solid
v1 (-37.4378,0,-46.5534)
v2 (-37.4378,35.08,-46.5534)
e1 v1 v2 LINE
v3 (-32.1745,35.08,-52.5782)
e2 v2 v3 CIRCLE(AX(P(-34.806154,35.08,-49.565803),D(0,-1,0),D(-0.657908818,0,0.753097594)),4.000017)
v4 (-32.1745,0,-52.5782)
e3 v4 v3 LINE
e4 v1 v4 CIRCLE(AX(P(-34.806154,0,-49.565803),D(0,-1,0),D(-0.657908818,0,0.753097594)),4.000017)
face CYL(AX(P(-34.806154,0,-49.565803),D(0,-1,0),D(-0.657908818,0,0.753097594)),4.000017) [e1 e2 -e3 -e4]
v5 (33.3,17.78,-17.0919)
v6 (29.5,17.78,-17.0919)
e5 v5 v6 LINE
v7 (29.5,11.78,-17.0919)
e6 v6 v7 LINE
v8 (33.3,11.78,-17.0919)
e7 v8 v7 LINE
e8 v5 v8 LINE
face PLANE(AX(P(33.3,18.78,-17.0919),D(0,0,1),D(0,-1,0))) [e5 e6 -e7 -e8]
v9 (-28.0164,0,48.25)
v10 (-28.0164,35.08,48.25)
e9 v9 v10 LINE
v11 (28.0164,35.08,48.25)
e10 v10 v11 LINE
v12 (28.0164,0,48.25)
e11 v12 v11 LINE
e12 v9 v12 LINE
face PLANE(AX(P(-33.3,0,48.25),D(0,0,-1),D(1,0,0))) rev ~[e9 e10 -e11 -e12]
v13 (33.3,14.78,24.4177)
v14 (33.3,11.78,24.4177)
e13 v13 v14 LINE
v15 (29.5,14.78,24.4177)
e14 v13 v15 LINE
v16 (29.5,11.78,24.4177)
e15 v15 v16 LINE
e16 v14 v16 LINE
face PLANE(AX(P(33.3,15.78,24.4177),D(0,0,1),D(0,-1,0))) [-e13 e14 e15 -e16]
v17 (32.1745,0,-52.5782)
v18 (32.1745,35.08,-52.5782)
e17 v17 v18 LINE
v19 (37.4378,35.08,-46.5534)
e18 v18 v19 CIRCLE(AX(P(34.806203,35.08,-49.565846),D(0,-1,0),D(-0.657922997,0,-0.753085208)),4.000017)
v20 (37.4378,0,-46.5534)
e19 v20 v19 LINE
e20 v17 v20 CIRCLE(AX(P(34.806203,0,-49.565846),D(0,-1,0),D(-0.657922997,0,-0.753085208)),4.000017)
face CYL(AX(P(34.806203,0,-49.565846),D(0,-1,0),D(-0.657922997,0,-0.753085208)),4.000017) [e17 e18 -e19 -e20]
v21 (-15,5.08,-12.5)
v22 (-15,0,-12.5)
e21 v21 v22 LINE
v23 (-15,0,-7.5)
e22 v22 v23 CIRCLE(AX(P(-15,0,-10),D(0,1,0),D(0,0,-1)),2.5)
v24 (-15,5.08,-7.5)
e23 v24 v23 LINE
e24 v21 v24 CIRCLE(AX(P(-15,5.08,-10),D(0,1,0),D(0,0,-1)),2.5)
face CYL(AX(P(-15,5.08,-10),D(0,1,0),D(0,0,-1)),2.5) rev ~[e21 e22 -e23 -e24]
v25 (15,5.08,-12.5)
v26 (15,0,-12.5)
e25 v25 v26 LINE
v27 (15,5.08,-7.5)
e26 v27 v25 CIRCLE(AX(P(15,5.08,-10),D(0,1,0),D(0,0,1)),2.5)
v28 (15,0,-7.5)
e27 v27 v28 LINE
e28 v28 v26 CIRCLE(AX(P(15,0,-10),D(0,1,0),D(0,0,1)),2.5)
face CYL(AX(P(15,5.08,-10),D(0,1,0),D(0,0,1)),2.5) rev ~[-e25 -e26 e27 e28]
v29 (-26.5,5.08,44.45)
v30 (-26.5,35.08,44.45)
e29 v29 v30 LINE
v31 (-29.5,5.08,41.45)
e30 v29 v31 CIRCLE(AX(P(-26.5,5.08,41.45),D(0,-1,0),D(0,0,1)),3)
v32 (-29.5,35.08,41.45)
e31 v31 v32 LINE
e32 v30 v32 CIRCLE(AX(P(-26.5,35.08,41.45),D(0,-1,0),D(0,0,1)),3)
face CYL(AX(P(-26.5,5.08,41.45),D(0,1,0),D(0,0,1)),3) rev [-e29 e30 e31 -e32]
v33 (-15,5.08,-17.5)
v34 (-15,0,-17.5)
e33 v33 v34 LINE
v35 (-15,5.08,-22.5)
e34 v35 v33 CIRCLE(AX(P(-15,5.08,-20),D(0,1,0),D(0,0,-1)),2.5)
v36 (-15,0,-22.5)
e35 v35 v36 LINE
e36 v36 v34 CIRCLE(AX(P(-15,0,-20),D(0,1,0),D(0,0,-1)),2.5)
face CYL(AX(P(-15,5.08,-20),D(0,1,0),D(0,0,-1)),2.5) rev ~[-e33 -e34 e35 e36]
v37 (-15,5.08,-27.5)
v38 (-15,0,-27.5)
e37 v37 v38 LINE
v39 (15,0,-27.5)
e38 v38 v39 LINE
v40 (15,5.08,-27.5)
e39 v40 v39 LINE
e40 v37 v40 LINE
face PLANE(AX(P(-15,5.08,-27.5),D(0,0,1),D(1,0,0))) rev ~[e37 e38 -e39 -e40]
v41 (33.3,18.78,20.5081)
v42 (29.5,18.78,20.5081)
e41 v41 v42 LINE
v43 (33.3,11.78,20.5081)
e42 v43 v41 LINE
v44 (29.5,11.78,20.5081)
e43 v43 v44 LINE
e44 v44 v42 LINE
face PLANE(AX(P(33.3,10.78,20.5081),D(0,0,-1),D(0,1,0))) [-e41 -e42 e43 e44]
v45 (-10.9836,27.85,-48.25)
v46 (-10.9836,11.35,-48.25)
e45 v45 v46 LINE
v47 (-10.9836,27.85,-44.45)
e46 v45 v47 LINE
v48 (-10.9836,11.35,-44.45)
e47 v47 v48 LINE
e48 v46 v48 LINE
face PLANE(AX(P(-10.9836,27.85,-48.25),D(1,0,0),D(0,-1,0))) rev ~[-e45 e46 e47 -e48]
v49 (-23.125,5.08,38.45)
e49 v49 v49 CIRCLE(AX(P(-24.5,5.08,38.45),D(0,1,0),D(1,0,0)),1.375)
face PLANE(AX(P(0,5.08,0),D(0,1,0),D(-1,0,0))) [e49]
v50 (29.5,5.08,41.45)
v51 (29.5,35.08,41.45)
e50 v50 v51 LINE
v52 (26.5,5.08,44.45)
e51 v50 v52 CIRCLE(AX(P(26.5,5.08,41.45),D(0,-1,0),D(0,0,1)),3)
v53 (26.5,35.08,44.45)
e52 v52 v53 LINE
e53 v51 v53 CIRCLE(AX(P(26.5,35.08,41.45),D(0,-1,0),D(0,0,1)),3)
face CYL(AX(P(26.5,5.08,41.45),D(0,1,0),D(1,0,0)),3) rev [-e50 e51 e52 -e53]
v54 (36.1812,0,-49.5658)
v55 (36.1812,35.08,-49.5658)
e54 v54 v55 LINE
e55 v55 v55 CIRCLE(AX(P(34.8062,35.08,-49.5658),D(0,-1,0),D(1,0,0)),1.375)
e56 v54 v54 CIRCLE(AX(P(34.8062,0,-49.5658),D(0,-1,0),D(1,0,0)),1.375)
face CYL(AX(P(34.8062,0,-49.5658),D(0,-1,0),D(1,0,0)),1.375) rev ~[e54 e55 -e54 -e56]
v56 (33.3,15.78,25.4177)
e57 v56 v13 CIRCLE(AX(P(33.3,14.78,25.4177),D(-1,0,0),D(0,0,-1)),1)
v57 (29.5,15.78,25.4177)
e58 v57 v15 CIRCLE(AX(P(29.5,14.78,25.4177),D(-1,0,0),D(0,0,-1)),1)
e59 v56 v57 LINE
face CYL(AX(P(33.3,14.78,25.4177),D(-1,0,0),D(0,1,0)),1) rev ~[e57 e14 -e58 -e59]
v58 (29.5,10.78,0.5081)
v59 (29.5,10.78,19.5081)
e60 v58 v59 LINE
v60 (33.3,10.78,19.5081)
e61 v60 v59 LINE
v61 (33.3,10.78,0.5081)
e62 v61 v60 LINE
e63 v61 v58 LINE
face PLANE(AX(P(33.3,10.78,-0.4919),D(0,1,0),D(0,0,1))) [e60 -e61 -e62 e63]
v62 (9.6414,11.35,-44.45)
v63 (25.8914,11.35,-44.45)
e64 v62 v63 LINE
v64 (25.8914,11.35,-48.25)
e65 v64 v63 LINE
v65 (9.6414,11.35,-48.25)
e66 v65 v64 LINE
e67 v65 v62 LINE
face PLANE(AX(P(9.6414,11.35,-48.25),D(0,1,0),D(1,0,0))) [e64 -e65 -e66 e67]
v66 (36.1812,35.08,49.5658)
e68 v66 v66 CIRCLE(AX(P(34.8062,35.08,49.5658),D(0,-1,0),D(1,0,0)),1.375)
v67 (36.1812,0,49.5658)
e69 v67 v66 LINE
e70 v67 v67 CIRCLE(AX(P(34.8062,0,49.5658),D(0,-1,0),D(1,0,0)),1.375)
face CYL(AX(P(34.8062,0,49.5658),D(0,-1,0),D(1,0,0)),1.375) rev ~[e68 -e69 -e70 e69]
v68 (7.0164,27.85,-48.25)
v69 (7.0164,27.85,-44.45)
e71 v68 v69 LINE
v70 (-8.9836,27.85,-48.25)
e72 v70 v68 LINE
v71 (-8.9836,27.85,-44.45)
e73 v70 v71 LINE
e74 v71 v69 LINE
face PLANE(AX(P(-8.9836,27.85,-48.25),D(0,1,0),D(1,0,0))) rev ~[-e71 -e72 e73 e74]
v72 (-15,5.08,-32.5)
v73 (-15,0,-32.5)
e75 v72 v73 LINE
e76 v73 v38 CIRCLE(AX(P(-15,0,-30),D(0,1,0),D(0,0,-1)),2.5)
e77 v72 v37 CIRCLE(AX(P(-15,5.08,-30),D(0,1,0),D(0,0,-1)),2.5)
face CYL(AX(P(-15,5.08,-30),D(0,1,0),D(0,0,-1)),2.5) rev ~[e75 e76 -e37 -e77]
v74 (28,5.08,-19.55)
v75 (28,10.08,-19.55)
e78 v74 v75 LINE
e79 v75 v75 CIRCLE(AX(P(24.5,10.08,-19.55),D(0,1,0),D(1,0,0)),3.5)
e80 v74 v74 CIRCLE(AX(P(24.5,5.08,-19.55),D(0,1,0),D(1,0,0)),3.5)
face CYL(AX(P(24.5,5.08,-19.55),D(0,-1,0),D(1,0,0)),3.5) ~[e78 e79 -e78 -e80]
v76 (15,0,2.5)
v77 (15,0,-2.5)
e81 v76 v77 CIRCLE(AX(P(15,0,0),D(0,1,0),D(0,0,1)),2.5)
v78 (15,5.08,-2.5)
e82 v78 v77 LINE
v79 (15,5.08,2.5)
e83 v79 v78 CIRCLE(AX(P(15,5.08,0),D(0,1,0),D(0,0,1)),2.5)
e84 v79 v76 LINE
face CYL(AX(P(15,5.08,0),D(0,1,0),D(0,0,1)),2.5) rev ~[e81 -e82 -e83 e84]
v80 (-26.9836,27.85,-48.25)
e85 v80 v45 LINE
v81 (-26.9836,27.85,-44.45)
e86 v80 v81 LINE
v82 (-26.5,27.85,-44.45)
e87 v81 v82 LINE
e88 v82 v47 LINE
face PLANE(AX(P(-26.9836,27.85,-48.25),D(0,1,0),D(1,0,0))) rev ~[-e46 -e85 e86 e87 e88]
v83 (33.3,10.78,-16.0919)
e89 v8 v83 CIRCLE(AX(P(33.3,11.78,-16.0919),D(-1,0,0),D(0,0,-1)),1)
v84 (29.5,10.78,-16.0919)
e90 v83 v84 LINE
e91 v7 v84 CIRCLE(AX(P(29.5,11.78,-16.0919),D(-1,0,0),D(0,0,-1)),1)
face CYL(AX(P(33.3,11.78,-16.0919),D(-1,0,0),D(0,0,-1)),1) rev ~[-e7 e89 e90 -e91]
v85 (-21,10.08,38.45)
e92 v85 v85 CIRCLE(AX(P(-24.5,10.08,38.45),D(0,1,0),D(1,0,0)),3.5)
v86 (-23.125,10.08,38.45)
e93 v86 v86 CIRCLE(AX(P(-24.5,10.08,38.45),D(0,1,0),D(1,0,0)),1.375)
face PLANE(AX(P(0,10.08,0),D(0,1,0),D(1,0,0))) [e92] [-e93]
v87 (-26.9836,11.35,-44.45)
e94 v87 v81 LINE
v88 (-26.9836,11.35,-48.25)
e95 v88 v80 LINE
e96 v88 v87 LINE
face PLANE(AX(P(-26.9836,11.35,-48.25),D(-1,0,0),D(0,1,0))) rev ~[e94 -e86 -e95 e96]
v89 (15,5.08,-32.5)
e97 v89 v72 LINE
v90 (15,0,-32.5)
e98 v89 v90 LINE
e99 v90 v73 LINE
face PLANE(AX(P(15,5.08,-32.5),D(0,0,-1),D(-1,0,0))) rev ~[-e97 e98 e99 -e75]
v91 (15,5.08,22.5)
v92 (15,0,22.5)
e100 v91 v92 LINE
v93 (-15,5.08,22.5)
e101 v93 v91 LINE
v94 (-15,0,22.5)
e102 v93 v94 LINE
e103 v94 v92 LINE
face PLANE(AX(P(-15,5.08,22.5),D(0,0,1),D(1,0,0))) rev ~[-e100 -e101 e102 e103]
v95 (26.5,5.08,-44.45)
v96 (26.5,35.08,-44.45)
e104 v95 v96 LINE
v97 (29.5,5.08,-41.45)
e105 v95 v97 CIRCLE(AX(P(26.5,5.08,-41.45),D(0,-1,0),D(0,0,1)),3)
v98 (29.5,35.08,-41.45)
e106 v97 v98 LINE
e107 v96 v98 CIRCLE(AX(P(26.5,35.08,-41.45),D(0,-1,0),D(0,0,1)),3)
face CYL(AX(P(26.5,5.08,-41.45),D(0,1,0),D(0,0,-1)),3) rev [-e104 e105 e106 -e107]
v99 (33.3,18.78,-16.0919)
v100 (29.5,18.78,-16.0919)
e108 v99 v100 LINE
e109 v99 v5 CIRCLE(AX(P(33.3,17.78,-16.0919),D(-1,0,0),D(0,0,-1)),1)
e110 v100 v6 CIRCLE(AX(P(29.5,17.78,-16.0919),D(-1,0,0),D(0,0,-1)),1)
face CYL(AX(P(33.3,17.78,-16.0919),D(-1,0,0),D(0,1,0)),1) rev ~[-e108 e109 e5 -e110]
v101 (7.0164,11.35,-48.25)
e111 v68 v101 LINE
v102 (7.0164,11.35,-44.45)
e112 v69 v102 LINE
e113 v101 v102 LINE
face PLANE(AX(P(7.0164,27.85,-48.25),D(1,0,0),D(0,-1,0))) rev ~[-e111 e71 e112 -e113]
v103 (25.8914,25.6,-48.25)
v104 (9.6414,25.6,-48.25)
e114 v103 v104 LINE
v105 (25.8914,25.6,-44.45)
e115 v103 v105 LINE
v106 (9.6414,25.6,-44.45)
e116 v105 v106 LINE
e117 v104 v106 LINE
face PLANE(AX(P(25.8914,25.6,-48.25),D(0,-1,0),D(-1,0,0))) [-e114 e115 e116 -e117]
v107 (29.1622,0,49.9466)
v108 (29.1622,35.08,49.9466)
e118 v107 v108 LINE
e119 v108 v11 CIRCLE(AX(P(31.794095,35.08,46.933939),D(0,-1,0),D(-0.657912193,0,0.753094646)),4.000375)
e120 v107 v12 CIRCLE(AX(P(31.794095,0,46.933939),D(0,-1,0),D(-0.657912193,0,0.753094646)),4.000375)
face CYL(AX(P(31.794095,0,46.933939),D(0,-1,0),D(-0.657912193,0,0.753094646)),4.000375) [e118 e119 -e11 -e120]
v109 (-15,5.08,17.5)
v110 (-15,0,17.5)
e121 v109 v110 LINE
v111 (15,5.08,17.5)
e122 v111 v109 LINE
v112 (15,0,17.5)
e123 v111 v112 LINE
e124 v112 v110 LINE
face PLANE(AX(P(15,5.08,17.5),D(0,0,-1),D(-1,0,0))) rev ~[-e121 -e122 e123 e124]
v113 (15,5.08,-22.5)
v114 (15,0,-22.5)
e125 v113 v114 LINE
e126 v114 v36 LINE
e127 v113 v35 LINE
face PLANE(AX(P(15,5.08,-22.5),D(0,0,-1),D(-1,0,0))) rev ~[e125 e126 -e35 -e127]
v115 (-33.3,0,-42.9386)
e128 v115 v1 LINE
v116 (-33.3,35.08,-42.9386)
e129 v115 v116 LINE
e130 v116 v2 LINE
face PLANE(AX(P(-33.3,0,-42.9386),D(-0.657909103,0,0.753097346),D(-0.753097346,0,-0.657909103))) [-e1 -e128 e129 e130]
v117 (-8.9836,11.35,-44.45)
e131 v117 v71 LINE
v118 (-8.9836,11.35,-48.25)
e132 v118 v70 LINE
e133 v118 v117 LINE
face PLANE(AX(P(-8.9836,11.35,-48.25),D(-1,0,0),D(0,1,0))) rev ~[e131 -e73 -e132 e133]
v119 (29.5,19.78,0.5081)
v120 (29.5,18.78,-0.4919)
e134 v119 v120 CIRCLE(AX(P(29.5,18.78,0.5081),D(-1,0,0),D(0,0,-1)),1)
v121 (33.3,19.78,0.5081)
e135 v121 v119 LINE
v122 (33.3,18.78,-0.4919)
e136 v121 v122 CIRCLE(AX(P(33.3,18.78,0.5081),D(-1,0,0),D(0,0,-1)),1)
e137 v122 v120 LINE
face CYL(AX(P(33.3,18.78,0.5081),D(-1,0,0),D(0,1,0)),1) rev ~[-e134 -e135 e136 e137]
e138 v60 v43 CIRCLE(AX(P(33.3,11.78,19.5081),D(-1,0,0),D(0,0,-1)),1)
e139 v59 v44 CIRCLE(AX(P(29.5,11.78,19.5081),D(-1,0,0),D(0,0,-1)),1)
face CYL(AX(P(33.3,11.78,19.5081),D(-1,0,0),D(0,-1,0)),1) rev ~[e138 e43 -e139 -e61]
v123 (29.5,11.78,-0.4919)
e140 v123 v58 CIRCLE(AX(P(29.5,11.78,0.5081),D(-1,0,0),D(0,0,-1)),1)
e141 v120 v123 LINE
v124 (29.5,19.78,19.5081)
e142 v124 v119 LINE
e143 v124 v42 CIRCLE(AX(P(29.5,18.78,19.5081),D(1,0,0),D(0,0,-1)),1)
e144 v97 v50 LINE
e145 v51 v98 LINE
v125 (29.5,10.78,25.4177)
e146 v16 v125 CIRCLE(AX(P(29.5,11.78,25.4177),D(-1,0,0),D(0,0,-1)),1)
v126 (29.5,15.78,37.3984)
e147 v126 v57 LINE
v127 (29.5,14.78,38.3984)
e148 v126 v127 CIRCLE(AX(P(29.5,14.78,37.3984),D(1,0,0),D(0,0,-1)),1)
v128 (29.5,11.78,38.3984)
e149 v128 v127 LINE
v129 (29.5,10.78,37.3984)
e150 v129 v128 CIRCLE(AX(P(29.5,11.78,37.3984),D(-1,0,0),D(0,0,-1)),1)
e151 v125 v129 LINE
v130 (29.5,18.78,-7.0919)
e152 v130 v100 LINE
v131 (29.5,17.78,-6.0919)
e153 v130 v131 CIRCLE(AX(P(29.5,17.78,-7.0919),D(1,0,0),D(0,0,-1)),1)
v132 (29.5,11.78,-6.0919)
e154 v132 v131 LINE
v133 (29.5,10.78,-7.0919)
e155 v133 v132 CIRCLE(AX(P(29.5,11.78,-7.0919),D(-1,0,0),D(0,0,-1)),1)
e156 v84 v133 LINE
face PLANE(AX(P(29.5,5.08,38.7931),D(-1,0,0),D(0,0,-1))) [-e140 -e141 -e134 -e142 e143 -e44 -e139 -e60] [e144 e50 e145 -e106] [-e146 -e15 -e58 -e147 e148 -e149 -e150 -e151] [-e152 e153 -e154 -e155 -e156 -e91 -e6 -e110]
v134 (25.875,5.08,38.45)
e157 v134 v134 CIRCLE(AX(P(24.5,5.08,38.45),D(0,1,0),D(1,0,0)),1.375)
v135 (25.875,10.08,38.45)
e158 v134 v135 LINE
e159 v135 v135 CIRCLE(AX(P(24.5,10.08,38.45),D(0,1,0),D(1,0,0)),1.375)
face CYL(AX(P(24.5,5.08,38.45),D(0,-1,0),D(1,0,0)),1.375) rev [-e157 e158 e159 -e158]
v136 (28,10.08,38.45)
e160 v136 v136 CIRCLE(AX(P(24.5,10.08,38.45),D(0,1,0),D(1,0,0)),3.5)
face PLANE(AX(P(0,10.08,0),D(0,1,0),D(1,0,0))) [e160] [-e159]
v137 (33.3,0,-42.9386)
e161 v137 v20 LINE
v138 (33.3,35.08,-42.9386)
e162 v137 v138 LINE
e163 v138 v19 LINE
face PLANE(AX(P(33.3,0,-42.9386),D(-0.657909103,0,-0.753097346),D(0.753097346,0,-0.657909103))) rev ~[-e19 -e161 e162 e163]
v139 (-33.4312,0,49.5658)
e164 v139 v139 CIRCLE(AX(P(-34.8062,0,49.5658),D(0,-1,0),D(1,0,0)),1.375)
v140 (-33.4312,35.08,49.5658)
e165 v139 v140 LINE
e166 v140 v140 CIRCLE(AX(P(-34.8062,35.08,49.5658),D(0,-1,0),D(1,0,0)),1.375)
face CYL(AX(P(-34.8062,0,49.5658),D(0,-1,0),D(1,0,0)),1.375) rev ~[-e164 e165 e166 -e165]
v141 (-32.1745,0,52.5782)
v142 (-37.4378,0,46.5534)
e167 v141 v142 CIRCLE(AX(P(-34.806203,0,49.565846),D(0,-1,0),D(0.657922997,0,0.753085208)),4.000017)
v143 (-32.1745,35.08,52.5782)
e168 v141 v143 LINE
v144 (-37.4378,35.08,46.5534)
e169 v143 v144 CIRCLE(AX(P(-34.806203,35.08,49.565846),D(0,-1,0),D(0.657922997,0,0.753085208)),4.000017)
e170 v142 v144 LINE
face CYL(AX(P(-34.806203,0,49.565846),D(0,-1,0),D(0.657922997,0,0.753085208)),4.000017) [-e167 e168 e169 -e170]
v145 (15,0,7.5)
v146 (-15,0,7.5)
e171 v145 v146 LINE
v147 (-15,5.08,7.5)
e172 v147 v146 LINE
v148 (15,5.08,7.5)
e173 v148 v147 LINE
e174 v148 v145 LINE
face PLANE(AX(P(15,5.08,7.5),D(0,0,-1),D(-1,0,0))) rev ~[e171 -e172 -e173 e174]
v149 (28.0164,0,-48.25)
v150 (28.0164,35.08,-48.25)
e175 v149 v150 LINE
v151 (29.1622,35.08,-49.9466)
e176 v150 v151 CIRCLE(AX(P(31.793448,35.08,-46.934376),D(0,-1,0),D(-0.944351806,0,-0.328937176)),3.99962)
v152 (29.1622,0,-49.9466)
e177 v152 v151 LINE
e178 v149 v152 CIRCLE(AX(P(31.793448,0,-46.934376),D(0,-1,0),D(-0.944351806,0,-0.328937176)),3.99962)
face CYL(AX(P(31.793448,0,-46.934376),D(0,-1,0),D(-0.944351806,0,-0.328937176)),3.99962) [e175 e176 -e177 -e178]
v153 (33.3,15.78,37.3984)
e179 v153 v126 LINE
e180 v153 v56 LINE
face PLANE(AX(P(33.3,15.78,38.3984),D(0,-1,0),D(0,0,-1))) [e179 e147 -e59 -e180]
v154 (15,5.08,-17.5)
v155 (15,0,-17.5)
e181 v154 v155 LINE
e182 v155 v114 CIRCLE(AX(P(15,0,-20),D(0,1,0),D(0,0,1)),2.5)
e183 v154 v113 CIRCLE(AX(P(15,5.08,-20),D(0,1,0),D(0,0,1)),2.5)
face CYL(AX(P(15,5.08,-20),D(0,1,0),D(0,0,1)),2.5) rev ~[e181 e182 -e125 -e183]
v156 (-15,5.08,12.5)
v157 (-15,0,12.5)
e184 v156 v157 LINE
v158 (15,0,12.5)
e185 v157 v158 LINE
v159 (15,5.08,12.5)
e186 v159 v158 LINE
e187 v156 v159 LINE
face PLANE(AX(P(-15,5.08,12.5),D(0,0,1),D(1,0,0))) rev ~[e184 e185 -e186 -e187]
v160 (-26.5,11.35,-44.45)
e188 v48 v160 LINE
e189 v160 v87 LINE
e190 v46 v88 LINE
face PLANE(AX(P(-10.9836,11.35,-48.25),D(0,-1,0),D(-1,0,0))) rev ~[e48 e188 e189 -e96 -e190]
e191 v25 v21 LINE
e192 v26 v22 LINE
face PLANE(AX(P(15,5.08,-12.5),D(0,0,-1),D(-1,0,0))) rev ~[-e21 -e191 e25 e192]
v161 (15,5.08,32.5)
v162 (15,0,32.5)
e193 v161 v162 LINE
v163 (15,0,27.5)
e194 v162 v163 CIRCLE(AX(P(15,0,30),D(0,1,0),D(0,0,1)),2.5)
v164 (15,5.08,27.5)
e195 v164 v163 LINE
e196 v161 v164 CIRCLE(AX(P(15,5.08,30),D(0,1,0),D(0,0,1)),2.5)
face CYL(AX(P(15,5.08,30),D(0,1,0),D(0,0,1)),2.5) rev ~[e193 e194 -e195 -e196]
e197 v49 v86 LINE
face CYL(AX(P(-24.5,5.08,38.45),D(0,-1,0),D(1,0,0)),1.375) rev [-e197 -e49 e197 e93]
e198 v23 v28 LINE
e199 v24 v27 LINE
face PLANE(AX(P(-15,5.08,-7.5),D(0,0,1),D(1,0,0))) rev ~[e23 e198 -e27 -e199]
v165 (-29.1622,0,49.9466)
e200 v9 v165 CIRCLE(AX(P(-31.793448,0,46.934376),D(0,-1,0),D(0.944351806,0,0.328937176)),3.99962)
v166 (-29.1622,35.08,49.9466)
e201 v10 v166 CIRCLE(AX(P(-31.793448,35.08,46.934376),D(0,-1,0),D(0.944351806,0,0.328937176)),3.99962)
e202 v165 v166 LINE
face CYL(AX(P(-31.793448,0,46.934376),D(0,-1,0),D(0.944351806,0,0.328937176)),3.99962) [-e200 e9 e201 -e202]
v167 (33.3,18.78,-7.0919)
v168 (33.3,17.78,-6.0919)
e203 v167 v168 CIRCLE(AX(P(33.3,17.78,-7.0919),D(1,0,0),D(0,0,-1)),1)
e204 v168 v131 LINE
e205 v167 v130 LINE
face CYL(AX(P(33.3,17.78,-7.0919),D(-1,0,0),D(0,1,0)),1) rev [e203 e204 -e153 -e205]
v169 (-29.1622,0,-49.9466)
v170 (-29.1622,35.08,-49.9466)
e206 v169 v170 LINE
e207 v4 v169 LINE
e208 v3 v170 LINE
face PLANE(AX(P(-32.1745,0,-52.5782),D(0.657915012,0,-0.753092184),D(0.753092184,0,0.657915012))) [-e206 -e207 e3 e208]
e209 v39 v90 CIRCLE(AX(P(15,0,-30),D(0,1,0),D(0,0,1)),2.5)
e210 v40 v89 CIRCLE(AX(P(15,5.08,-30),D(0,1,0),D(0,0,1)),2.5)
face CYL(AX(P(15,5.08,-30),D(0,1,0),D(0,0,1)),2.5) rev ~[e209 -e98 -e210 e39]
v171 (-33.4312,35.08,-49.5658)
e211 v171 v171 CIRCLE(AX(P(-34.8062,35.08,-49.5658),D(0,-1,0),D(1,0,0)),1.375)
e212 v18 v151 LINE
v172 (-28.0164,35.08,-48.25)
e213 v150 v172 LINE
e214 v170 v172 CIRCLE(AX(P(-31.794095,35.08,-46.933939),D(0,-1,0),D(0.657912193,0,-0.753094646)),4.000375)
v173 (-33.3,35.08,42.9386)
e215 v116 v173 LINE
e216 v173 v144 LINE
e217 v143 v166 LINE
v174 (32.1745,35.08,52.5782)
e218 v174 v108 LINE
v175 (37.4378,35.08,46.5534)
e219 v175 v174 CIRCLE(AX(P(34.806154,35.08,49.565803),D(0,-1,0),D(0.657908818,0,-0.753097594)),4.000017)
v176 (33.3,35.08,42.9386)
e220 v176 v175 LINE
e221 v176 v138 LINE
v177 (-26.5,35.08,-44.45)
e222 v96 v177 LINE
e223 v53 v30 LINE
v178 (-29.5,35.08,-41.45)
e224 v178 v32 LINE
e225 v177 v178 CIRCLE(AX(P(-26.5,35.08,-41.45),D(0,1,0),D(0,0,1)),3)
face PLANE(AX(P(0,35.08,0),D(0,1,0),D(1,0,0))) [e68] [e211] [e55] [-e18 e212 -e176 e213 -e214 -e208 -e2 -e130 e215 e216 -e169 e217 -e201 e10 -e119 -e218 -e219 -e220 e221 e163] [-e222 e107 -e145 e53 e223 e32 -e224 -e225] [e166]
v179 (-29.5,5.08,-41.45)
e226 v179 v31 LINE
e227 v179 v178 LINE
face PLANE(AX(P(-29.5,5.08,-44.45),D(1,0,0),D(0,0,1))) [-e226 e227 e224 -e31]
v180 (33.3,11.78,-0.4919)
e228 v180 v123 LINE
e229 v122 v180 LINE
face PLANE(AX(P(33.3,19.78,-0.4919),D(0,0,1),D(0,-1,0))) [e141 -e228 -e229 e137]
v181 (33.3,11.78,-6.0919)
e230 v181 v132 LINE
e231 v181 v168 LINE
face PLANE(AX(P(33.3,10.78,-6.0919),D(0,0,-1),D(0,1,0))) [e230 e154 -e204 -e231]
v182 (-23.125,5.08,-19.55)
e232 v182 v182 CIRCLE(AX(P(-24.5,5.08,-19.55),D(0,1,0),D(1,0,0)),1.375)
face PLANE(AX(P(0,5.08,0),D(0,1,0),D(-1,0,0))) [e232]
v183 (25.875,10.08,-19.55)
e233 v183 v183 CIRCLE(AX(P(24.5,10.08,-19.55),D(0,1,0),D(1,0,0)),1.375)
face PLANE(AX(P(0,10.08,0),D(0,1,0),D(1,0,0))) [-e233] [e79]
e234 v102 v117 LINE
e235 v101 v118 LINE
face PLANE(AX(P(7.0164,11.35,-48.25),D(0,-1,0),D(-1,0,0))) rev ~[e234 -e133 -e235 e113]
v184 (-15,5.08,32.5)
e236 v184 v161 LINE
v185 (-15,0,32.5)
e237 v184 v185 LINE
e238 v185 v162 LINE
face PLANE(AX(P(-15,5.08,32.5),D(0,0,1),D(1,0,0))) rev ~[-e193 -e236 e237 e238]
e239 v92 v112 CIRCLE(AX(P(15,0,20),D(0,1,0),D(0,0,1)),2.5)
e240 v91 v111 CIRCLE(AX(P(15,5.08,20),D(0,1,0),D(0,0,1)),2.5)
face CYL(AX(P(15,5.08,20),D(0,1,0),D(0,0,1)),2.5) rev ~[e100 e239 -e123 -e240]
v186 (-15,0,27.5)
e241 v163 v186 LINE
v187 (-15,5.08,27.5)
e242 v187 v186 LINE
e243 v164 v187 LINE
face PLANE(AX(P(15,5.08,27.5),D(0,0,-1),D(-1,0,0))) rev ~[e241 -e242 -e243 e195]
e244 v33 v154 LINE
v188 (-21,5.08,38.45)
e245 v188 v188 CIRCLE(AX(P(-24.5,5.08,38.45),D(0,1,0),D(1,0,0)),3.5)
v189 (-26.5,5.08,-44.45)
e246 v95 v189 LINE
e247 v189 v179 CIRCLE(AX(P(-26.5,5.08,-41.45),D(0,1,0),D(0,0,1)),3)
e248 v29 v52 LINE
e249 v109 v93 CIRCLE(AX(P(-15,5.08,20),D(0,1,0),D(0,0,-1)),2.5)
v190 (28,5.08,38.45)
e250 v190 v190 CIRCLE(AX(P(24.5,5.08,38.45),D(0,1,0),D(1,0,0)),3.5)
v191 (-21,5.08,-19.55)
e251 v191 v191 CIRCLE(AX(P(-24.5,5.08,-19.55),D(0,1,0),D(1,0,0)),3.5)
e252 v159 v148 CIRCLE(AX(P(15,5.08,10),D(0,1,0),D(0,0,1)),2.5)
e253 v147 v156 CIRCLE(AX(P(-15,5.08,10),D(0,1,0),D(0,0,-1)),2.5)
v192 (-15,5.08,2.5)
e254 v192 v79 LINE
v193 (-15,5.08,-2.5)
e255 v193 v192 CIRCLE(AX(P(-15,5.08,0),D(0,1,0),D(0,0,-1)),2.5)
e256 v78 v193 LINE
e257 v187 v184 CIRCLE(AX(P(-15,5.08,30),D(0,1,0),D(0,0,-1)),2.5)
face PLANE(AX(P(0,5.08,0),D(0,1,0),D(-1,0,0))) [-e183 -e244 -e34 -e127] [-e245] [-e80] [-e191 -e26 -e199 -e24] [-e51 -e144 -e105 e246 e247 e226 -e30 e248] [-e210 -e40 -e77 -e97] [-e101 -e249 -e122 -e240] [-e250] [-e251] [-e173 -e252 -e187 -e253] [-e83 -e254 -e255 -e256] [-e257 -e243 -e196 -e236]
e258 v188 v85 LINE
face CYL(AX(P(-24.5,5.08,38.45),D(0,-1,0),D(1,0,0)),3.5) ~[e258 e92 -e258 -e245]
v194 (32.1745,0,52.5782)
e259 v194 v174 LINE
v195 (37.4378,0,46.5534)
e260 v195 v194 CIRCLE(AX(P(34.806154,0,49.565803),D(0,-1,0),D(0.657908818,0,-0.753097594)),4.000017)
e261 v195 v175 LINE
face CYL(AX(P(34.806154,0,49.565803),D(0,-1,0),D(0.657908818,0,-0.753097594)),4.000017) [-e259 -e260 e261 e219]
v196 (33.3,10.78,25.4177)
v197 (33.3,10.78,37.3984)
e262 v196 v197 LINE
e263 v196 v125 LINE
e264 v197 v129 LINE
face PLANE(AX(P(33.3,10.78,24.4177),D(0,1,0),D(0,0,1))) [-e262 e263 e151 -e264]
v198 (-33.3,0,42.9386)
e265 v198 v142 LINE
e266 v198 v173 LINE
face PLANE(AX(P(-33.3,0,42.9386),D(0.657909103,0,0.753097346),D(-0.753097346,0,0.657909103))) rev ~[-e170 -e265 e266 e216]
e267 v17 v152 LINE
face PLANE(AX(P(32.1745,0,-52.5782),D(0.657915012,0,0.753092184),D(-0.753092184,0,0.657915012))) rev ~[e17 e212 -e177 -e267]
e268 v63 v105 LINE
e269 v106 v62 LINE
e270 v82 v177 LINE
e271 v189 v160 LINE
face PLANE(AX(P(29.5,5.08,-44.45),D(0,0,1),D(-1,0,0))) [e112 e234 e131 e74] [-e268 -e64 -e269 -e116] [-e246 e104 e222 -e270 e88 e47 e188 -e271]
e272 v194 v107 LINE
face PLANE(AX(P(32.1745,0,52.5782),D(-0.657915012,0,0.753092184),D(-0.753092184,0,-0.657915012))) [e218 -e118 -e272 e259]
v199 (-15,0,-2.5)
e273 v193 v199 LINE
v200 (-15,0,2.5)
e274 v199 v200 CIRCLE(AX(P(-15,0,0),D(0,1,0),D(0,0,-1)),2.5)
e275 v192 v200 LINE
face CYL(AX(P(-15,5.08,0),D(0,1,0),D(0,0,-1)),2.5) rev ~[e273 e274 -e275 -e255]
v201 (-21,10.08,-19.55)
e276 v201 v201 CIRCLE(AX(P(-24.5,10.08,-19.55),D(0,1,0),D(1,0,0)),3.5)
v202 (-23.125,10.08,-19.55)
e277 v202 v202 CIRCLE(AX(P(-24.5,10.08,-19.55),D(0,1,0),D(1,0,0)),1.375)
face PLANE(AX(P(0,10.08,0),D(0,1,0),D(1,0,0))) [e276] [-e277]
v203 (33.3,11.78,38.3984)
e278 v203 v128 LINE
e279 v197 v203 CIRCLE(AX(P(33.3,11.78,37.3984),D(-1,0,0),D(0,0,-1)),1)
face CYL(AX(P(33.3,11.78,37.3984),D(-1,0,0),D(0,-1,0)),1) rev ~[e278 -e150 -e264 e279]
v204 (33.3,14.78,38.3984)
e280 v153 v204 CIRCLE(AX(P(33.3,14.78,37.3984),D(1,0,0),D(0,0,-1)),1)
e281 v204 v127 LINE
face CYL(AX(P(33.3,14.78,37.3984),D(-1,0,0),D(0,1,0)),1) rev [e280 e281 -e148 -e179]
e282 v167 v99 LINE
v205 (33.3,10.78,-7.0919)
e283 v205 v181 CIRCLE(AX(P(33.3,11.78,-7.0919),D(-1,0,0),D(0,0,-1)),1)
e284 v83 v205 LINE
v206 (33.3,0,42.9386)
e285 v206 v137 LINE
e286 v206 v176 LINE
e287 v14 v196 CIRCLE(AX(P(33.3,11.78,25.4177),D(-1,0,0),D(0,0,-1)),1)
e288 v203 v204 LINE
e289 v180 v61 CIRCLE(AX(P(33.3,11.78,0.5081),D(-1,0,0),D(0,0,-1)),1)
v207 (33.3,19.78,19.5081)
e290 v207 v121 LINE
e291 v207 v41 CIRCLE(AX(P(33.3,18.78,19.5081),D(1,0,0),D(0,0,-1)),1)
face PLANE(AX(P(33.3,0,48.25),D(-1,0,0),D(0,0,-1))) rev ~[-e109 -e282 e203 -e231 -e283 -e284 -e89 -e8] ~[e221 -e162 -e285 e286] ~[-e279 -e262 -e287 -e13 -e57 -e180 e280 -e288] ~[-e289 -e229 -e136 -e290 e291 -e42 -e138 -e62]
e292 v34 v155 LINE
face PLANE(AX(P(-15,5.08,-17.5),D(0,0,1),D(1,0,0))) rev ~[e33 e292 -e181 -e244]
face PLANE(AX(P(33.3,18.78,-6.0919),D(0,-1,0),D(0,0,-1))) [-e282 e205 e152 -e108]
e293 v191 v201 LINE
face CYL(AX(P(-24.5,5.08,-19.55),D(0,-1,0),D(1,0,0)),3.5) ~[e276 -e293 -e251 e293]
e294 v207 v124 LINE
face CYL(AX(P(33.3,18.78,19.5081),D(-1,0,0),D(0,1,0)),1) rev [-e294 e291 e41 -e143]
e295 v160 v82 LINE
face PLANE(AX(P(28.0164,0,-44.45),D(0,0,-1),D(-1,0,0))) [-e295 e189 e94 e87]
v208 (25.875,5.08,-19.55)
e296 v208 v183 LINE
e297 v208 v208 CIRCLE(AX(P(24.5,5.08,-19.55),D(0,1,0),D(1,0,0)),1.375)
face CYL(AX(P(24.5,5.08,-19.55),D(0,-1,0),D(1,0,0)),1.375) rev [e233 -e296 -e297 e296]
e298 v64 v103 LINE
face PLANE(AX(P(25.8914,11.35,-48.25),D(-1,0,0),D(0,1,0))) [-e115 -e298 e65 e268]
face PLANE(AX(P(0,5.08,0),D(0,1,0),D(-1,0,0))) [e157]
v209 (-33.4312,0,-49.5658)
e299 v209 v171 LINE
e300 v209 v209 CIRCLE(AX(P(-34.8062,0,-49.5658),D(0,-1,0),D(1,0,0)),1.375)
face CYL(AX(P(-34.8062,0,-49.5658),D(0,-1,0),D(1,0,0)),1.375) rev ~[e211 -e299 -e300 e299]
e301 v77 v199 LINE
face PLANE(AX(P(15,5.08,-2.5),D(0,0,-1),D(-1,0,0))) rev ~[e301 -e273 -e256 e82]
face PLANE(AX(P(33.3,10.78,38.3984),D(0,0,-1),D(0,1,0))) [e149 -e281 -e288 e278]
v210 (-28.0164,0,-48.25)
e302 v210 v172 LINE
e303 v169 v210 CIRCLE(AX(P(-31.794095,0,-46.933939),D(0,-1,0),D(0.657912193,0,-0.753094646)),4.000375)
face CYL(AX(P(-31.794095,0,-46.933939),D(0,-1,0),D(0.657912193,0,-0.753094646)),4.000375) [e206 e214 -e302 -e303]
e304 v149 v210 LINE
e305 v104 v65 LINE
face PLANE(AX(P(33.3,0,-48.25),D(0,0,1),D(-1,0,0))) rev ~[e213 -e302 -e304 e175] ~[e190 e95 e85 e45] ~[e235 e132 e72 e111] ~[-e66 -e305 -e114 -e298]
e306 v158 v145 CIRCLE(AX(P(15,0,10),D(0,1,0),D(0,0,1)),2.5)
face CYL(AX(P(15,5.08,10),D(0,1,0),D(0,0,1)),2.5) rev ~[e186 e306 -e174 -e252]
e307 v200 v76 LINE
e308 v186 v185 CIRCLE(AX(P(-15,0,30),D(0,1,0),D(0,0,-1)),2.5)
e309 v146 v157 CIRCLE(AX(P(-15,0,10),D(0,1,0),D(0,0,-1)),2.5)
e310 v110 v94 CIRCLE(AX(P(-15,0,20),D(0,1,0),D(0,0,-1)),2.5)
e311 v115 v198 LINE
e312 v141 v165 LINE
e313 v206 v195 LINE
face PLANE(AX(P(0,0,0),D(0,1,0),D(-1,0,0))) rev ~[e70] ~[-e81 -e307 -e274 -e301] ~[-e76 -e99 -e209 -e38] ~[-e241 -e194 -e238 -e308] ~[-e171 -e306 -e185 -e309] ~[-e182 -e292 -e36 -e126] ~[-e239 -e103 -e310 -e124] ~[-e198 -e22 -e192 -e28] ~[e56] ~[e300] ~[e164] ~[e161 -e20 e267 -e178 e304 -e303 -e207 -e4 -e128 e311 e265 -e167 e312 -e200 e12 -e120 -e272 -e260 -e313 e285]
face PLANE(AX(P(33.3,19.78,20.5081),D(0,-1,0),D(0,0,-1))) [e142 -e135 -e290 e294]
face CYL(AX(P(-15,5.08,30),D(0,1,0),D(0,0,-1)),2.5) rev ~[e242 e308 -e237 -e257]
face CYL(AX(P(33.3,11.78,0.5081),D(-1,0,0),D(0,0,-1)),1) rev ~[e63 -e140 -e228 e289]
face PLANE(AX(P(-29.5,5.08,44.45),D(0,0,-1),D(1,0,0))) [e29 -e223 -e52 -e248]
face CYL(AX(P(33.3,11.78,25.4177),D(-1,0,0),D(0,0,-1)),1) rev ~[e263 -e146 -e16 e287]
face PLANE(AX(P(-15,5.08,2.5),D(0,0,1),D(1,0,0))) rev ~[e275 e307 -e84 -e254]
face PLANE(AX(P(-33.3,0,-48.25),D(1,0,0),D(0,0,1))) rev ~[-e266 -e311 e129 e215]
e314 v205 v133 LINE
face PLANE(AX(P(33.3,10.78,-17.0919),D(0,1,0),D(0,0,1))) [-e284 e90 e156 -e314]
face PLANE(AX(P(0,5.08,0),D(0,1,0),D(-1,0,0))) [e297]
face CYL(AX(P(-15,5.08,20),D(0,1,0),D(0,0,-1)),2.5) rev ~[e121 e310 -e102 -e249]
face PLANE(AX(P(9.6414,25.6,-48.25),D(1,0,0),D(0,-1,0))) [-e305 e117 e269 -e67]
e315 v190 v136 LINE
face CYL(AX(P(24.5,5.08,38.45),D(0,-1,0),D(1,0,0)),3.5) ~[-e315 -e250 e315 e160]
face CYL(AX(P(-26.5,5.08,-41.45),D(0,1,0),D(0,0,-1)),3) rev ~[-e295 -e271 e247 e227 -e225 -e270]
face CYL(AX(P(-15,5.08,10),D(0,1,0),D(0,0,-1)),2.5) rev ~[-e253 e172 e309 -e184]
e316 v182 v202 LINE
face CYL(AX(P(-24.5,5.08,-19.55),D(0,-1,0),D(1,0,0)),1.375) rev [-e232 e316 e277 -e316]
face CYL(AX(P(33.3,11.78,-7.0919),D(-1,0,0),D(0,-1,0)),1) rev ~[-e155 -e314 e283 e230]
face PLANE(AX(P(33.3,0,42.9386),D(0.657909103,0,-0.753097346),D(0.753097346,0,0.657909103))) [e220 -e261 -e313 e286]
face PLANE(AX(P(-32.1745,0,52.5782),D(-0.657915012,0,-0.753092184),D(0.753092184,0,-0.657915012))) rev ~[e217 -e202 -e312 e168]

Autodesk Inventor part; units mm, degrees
ref_plane "YZ Plane" through (0, 0, 0) normal (1, 0, 0) x (0, 1, 0)
ref_plane "XZ Plane" through (0, 0, 0) normal (0, 1, 0) x (-1, 0, 0)
ref_plane "XY Plane" through (0, 0, 0) normal (0, 0, 1) x (1, 0, 0)
sketch "Sketch1" plane through (0, 0, 0) normal (0, 1, 0) x (-1, 0, 0)
  line L0 (-33.3, -48.25) -> (33.3, -48.25)
  line L1 (33.3, -48.25) -> (33.3, 48.25)
  line L2 (33.3, 48.25) -> (-33.3, 48.25)
  line L3 (-33.3, 48.25) -> (-33.3, -48.25)
  line L4 (-33.3, -48.25) -> (33.3, 48.25) construction
  line L5 (33.3, -48.25) -> (-33.3, 48.25) construction
  point P0 (0, 0)
  dimension "d0" = 66.6
  dimension "d1" = 96.5
extrude "Extrusion1" add sketch "Sketch1" along normal blind 5.08
sketch "Sketch2" plane through (0, 5.08, 0) normal (0, 1, 0) x (1, 0, 0)
  line L0 (29.5, 44.45) -> (-29.5, 44.45)
  line L1 (-29.5, 44.45) -> (-29.5, -44.45)
  line L2 (-29.5, -44.45) -> (29.5, -44.45)
  line L3 (29.5, -44.45) -> (29.5, 44.45)
  line L4 (29.5, 44.45) -> (-29.5, -44.45) construction
  line L5 (-29.5, 44.45) -> (29.5, -44.45) construction
  line L6 (-33.3, 48.25) -> (-33.3, -48.25) projected
  line L7 (-33.3, -48.25) -> (33.3, -48.25) projected
  line L8 (33.3, 48.25) -> (-33.3, 48.25) projected
  line L9 (33.3, -48.25) -> (33.3, 48.25) projected
  line L10 (25.7, -40.65) -> (33.3, -48.25) construction
  line L11 (23.8431, -44.45) -> (30.4716, -51.0784)
  line L12 (36.1284, -45.4216) -> (29.5, -38.7931)
  arc A0 (30.4716, -51.0784) -> (36.1284, -45.4216) centre (33.3, -48.25) ccw
  circle A1 centre (33.3, -48.25) radius 1.375
  point P0 (0, 0)
  dimension "d4" = 3.8
  dimension "d5" = 3.8
  dimension "d22" = 8
  dimension "d23" = 2.75
extrude "Extrusion2" add sketch "Sketch2" along normal blind 30 contours L0 L1 L2 L11 L7 L6 L8 L9 L12 L3 | L12 L9 A1 L7 L11 L2 L3 | L9 L7 A1 picked at (32.8154, -47.4787)
sketch "Sketch3" plane through (0, 5.08, 0) normal (0, 1, 0) x (1, 0, 0)
  line L0 (29.5, -44.45) -> (-29.5, -44.45) construction
  line L1 (0, -44.45) -> (0, 44.45) construction
  line L2 (29.5, 44.45) -> (-29.5, 44.45) construction
  circle A0 centre (-24.5, -38.45) radius 3.5
  circle A1 centre (-24.5, -38.45) radius 1.375
  line L3 (29.5, 44.45) -> (29.5, -44.45) construction
  line L4 (29.5, 0) -> (-29.5, 0) construction
  line L5 (-29.5, -44.45) -> (-29.5, 44.45) construction
  circle A2 centre (-24.5, 19.55) radius 3.5
  circle A3 centre (-24.5, 19.55) radius 1.375
  circle A4 centre (24.5, -38.45) radius 3.5
  circle A5 centre (24.5, -38.45) radius 1.375
  circle A6 centre (24.5, 19.55) radius 3.5
  circle A7 centre (24.5, 19.55) radius 1.375
  point P0 (0, 0)
  dimension "d8" = 7
  dimension "d9" = 2.75
  dimension "d10" = 6
  dimension "d11" = 24.5
  dimension "d14" = 58
extrude "Extrusion3" add sketch "Sketch3" along normal blind 5
sketch "Sketch4" plane through (0, 0, 0) normal (0, -1, 0) x (1, 0, 0)
  line L0 (31.7938, 46.9342) -> (34.8062, 49.5658) construction
  line L1 (33.3, 48.25) -> (33.3, -48.25) projected
  line L2 (33.3, 42.9386) -> (37.4378, 46.5534)
  line L3 (32.1745, 52.5782) -> (29.1622, 49.9466)
  arc A0 (29.1622, 49.9466) -> (28.0164, 48.25) centre (31.7938, 46.9342) ccw
  arc A1 (37.4378, 46.5534) -> (32.1745, 52.5782) centre (34.8062, 49.5658) ccw
  line L4 (-33.3, 48.25) -> (33.3, 48.25) projected
  line L5 (28.0164, 48.25) -> (33.3, 48.25)
  line L6 (33.3, 48.25) -> (33.3, 42.9386)
  circle A2 centre (34.8062, 49.5658) radius 1.375
  line L7 (0, 48.25) -> (0, -48.25) construction
  line L8 (33.3, -48.25) -> (-33.3, -48.25) construction
  line L9 (33.3, 0) -> (-33.3, 0) construction
  line L10 (33.3, -48.25) -> (33.3, 48.25)
  line L11 (33.3, -42.9386) -> (37.4378, -46.5534)
  line L12 (32.1745, -52.5782) -> (29.1622, -49.9466)
  arc A3 (28.0164, -48.25) -> (29.1622, -49.9466) centre (31.7938, -46.9342) ccw
  arc A4 (32.1745, -52.5782) -> (37.4378, -46.5534) centre (34.8062, -49.5658) ccw
  line L13 (-33.3, -48.25) -> (33.3, -48.25)
  circle A5 centre (34.8062, -49.5658) radius 1.375
  line L14 (-33.3, 48.25) -> (-33.3, -48.25)
  line L15 (-33.3, 42.9386) -> (-37.4378, 46.5534)
  line L16 (-32.1745, 52.5782) -> (-29.1622, 49.9466)
  arc A6 (-28.0164, 48.25) -> (-29.1622, 49.9466) centre (-31.7938, 46.9342) ccw
  arc A7 (-32.1745, 52.5782) -> (-37.4378, 46.5534) centre (-34.8062, 49.5658) ccw
  line L17 (-28.0164, 48.25) -> (-33.3, 48.25)
  circle A8 centre (-34.8062, 49.5658) radius 1.375
  arc A9 (-37.4378, -46.5534) -> (-32.1745, -52.5782) centre (-34.8062, -49.5658) ccw
  line L18 (-33.3, -42.9386) -> (-37.4378, -46.5534)
  line L19 (-32.1745, -52.5782) -> (-29.1622, -49.9466)
  arc A10 (-29.1622, -49.9466) -> (-28.0164, -48.25) centre (-31.7938, -46.9342) ccw
  circle A11 centre (-34.8062, -49.5658) radius 1.375
  line L20 (-28.0164, -48.25) -> (-33.3, -48.25)
  line L21 (-33.3, -48.25) -> (-33.3, 48.25)
  point P0 (0, 0)
  point P1 (-28.0164, -48.25)
  point P2 (-33.3, -42.9386)
  point P3 (-28.0164, 48.25)
  point P4 (33.3, -42.9386)
  dimension "d24" = 2
  dimension "d25" = 8
  dimension "d26" = 131.141
  dimension "d27" = 2.75
extrude "Extrusion4" add sketch "Sketch4" against normal up to surface (35.08 mm away) contours L4 A0 L3 A1 L2 L1 | L11 A4 L12 A3 L13 L1 | L4 L14 L15 A7 L16 A6 | A10 L19 A9 L18 L14 L13
fillet "Fillet2" radius 3 4 edges at (29.5, 20.08, -44.45) (-29.5, 20.08, -44.45) (-29.5, 20.08, 44.45) (29.5, 20.08, 44.45)
sketch "Sketch5" plane through (0, 5.08, 0) normal (0, 1, 0) x (1, 0, 0)
  line L0 (15, 0) -> (-15, 0) construction
  line L1 (15, 2.5) -> (-15, 2.5)
  line L2 (-15, -2.5) -> (15, -2.5)
  arc A0 (15, -2.5) -> (15, 2.5) centre (15, 0) ccw
  arc A1 (-15, 2.5) -> (-15, -2.5) centre (-15, 0) ccw
  line L3 (-26.5, -44.45) -> (26.5, -44.45) construction
  line L4 (0, -44.45) -> (0, 44.45) construction
  line L5 (-26.5, 44.45) -> (26.5, 44.45) construction
  arc A2 (-15, 12.5) -> (-15, 7.5) centre (-15, 10) ccw
  line L6 (15, 12.5) -> (-15, 12.5)
  line L7 (-15, 7.5) -> (15, 7.5)
  arc A3 (15, 7.5) -> (15, 12.5) centre (15, 10) ccw
  arc A4 (-15, 22.5) -> (-15, 17.5) centre (-15, 20) ccw
  line L8 (15, 22.5) -> (-15, 22.5)
  line L9 (-15, 17.5) -> (15, 17.5)
  arc A5 (15, 17.5) -> (15, 22.5) centre (15, 20) ccw
  arc A6 (-15, 32.5) -> (-15, 27.5) centre (-15, 30) ccw
  line L10 (15, 32.5) -> (-15, 32.5)
  line L11 (-15, 27.5) -> (15, 27.5)
  arc A7 (15, 27.5) -> (15, 32.5) centre (15, 30) ccw
  arc A8 (-15, -7.5) -> (-15, -12.5) centre (-15, -10) ccw
  line L12 (-15, -12.5) -> (15, -12.5)
  line L13 (15, -7.5) -> (-15, -7.5)
  arc A9 (15, -12.5) -> (15, -7.5) centre (15, -10) ccw
  arc A10 (-15, -17.5) -> (-15, -22.5) centre (-15, -20) ccw
  line L14 (-15, -22.5) -> (15, -22.5)
  line L15 (15, -17.5) -> (-15, -17.5)
  arc A11 (15, -22.5) -> (15, -17.5) centre (15, -20) ccw
  arc A12 (-15, -27.5) -> (-15, -32.5) centre (-15, -30) ccw
  line L16 (-15, -32.5) -> (15, -32.5)
  line L17 (15, -27.5) -> (-15, -27.5)
  arc A13 (15, -32.5) -> (15, -27.5) centre (15, -30) ccw
  point P0 (0, 0)
  dimension "d31" = 15
  dimension "d32" = 5
  dimension "d35" = 10
  dimension "d42" = 10
extrude "Extrusion5" cut sketch "Sketch5" against normal up to surface (5.08 mm away)
sketch "Sketch9" plane through (28.0164, 0, -48.25) normal (0, 0, -1) x (-1, 0, 0)
  line L0 (7.0164, 10.08) -> (0.0164, 10.08) projected
  line L1 (2.1414, 10.08) -> (4.8914, 10.08) projected
  line L2 (2.1414, 10.08) -> (4.8914, 10.08) construction
  line L3 (3.5164, 10.08) -> (0.0164, 10.08) construction
  line L4 (7.0164, 10.08) -> (0.0164, 10.08) projected
  line L5 (0, 35.08) -> (0, 0) projected
  line L6 (0.0164, 10.08) -> (0, 13.58) construction
  line L7 (18.375, 11.35) -> (2.125, 11.35)
  line L8 (2.125, 11.35) -> (2.125, 25.6)
  line L9 (2.125, 25.6) -> (18.375, 25.6)
  line L10 (18.375, 25.6) -> (18.375, 11.35)
  line L11 (10.25, 25.6) -> (10.25, 11.35) construction
  line L12 (21, 11.35) -> (37, 11.35)
  line L13 (37, 11.35) -> (37, 27.85)
  line L14 (37, 27.85) -> (21, 27.85)
  line L15 (21, 27.85) -> (21, 11.35)
  line L16 (29, 27.85) -> (29, 11.35) construction
  line L17 (55, 27.85) -> (39, 27.85)
  line L18 (55, 11.35) -> (55, 27.85)
  line L19 (39, 11.35) -> (55, 11.35)
  line L20 (39, 27.85) -> (39, 11.35)
  point P0 (28.0164, 0)
  point P1 (47, 27.85)
  point P2 (47, 11.35)
  dimension "d58" = 3.5
  dimension "d60" = 3.5
  dimension "d63" = 16.25
  dimension "d64" = 14.25
  dimension "d65" = 1.27
  dimension "d66" = 10.25
  dimension "d69" = 16
  dimension "d70" = 16.5
  dimension "d71" = 1.27
  dimension "d72" = 29
  dimension "d75" = 18
extrude "Extrusion7" cut sketch "Sketch9" against normal up to surface (3.8 mm away)
sketch "Sketch11" plane through (33.3, 0, 42.9386) normal (1, 0, 0) x (0, 0, -1)
  line L0 (4.5402, 15.78) -> (18.5209, 15.78)
  line L1 (18.5209, 15.78) -> (18.5209, 10.78)
  line L2 (18.5209, 10.78) -> (4.5402, 10.78)
  line L3 (4.5402, 10.78) -> (4.5402, 15.78)
  line L4 (22.4305, 19.78) -> (43.4305, 19.78)
  line L5 (43.4305, 19.78) -> (43.4305, 10.78)
  line L6 (43.4305, 10.78) -> (22.4305, 10.78)
  line L7 (22.4305, 10.78) -> (22.4305, 19.78)
  line L8 (25.4305, 16.69) -> (25.4305, 14.2116)
  line L9 (40.4305, 14.2116) -> (40.4305, 16.69)
  line L10 (15.5209, 13.09) -> (15.5209, 12.8971)
  line L11 (7.5402, 12.8971) -> (7.5402, 13.09)
  line L12 (82.9128, 10.28) -> (3.9886, 10.28)
  line L13 (49.0305, 18.78) -> (60.0305, 18.78)
  line L14 (60.0305, 18.78) -> (60.0305, 10.78)
  line L15 (60.0305, 10.78) -> (49.0305, 10.78)
  line L16 (49.0305, 10.78) -> (49.0305, 18.78)
  line L17 (51.0305, 17.41) -> (51.0305, 11.41)
  line L18 (58.0305, 11.41) -> (58.0305, 17.41)
  point P0 (42.9386, 0)
extrude "Extrusion8" cut sketch "Sketch11" against normal up to surface (3.8 mm away)
fillet "Fillet4" radius 1 12 edges at (31.4, 19.78, -0.492) (31.4, 19.78, 20.508) (31.4, 10.78, 20.508) (31.4, 10.78, -0.492) (31.4, 18.78, -6.092) (31.4, 10.78, -6.092) (31.4, 10.78, -17.092) (31.4, 18.78, -17.092) (31.4, 15.78, 24.4177) (31.4, 15.78, 38.3984) (31.4, 10.78, 38.3984) (31.4, 10.78, 24.4177)
properties part number "_3DPrint"
